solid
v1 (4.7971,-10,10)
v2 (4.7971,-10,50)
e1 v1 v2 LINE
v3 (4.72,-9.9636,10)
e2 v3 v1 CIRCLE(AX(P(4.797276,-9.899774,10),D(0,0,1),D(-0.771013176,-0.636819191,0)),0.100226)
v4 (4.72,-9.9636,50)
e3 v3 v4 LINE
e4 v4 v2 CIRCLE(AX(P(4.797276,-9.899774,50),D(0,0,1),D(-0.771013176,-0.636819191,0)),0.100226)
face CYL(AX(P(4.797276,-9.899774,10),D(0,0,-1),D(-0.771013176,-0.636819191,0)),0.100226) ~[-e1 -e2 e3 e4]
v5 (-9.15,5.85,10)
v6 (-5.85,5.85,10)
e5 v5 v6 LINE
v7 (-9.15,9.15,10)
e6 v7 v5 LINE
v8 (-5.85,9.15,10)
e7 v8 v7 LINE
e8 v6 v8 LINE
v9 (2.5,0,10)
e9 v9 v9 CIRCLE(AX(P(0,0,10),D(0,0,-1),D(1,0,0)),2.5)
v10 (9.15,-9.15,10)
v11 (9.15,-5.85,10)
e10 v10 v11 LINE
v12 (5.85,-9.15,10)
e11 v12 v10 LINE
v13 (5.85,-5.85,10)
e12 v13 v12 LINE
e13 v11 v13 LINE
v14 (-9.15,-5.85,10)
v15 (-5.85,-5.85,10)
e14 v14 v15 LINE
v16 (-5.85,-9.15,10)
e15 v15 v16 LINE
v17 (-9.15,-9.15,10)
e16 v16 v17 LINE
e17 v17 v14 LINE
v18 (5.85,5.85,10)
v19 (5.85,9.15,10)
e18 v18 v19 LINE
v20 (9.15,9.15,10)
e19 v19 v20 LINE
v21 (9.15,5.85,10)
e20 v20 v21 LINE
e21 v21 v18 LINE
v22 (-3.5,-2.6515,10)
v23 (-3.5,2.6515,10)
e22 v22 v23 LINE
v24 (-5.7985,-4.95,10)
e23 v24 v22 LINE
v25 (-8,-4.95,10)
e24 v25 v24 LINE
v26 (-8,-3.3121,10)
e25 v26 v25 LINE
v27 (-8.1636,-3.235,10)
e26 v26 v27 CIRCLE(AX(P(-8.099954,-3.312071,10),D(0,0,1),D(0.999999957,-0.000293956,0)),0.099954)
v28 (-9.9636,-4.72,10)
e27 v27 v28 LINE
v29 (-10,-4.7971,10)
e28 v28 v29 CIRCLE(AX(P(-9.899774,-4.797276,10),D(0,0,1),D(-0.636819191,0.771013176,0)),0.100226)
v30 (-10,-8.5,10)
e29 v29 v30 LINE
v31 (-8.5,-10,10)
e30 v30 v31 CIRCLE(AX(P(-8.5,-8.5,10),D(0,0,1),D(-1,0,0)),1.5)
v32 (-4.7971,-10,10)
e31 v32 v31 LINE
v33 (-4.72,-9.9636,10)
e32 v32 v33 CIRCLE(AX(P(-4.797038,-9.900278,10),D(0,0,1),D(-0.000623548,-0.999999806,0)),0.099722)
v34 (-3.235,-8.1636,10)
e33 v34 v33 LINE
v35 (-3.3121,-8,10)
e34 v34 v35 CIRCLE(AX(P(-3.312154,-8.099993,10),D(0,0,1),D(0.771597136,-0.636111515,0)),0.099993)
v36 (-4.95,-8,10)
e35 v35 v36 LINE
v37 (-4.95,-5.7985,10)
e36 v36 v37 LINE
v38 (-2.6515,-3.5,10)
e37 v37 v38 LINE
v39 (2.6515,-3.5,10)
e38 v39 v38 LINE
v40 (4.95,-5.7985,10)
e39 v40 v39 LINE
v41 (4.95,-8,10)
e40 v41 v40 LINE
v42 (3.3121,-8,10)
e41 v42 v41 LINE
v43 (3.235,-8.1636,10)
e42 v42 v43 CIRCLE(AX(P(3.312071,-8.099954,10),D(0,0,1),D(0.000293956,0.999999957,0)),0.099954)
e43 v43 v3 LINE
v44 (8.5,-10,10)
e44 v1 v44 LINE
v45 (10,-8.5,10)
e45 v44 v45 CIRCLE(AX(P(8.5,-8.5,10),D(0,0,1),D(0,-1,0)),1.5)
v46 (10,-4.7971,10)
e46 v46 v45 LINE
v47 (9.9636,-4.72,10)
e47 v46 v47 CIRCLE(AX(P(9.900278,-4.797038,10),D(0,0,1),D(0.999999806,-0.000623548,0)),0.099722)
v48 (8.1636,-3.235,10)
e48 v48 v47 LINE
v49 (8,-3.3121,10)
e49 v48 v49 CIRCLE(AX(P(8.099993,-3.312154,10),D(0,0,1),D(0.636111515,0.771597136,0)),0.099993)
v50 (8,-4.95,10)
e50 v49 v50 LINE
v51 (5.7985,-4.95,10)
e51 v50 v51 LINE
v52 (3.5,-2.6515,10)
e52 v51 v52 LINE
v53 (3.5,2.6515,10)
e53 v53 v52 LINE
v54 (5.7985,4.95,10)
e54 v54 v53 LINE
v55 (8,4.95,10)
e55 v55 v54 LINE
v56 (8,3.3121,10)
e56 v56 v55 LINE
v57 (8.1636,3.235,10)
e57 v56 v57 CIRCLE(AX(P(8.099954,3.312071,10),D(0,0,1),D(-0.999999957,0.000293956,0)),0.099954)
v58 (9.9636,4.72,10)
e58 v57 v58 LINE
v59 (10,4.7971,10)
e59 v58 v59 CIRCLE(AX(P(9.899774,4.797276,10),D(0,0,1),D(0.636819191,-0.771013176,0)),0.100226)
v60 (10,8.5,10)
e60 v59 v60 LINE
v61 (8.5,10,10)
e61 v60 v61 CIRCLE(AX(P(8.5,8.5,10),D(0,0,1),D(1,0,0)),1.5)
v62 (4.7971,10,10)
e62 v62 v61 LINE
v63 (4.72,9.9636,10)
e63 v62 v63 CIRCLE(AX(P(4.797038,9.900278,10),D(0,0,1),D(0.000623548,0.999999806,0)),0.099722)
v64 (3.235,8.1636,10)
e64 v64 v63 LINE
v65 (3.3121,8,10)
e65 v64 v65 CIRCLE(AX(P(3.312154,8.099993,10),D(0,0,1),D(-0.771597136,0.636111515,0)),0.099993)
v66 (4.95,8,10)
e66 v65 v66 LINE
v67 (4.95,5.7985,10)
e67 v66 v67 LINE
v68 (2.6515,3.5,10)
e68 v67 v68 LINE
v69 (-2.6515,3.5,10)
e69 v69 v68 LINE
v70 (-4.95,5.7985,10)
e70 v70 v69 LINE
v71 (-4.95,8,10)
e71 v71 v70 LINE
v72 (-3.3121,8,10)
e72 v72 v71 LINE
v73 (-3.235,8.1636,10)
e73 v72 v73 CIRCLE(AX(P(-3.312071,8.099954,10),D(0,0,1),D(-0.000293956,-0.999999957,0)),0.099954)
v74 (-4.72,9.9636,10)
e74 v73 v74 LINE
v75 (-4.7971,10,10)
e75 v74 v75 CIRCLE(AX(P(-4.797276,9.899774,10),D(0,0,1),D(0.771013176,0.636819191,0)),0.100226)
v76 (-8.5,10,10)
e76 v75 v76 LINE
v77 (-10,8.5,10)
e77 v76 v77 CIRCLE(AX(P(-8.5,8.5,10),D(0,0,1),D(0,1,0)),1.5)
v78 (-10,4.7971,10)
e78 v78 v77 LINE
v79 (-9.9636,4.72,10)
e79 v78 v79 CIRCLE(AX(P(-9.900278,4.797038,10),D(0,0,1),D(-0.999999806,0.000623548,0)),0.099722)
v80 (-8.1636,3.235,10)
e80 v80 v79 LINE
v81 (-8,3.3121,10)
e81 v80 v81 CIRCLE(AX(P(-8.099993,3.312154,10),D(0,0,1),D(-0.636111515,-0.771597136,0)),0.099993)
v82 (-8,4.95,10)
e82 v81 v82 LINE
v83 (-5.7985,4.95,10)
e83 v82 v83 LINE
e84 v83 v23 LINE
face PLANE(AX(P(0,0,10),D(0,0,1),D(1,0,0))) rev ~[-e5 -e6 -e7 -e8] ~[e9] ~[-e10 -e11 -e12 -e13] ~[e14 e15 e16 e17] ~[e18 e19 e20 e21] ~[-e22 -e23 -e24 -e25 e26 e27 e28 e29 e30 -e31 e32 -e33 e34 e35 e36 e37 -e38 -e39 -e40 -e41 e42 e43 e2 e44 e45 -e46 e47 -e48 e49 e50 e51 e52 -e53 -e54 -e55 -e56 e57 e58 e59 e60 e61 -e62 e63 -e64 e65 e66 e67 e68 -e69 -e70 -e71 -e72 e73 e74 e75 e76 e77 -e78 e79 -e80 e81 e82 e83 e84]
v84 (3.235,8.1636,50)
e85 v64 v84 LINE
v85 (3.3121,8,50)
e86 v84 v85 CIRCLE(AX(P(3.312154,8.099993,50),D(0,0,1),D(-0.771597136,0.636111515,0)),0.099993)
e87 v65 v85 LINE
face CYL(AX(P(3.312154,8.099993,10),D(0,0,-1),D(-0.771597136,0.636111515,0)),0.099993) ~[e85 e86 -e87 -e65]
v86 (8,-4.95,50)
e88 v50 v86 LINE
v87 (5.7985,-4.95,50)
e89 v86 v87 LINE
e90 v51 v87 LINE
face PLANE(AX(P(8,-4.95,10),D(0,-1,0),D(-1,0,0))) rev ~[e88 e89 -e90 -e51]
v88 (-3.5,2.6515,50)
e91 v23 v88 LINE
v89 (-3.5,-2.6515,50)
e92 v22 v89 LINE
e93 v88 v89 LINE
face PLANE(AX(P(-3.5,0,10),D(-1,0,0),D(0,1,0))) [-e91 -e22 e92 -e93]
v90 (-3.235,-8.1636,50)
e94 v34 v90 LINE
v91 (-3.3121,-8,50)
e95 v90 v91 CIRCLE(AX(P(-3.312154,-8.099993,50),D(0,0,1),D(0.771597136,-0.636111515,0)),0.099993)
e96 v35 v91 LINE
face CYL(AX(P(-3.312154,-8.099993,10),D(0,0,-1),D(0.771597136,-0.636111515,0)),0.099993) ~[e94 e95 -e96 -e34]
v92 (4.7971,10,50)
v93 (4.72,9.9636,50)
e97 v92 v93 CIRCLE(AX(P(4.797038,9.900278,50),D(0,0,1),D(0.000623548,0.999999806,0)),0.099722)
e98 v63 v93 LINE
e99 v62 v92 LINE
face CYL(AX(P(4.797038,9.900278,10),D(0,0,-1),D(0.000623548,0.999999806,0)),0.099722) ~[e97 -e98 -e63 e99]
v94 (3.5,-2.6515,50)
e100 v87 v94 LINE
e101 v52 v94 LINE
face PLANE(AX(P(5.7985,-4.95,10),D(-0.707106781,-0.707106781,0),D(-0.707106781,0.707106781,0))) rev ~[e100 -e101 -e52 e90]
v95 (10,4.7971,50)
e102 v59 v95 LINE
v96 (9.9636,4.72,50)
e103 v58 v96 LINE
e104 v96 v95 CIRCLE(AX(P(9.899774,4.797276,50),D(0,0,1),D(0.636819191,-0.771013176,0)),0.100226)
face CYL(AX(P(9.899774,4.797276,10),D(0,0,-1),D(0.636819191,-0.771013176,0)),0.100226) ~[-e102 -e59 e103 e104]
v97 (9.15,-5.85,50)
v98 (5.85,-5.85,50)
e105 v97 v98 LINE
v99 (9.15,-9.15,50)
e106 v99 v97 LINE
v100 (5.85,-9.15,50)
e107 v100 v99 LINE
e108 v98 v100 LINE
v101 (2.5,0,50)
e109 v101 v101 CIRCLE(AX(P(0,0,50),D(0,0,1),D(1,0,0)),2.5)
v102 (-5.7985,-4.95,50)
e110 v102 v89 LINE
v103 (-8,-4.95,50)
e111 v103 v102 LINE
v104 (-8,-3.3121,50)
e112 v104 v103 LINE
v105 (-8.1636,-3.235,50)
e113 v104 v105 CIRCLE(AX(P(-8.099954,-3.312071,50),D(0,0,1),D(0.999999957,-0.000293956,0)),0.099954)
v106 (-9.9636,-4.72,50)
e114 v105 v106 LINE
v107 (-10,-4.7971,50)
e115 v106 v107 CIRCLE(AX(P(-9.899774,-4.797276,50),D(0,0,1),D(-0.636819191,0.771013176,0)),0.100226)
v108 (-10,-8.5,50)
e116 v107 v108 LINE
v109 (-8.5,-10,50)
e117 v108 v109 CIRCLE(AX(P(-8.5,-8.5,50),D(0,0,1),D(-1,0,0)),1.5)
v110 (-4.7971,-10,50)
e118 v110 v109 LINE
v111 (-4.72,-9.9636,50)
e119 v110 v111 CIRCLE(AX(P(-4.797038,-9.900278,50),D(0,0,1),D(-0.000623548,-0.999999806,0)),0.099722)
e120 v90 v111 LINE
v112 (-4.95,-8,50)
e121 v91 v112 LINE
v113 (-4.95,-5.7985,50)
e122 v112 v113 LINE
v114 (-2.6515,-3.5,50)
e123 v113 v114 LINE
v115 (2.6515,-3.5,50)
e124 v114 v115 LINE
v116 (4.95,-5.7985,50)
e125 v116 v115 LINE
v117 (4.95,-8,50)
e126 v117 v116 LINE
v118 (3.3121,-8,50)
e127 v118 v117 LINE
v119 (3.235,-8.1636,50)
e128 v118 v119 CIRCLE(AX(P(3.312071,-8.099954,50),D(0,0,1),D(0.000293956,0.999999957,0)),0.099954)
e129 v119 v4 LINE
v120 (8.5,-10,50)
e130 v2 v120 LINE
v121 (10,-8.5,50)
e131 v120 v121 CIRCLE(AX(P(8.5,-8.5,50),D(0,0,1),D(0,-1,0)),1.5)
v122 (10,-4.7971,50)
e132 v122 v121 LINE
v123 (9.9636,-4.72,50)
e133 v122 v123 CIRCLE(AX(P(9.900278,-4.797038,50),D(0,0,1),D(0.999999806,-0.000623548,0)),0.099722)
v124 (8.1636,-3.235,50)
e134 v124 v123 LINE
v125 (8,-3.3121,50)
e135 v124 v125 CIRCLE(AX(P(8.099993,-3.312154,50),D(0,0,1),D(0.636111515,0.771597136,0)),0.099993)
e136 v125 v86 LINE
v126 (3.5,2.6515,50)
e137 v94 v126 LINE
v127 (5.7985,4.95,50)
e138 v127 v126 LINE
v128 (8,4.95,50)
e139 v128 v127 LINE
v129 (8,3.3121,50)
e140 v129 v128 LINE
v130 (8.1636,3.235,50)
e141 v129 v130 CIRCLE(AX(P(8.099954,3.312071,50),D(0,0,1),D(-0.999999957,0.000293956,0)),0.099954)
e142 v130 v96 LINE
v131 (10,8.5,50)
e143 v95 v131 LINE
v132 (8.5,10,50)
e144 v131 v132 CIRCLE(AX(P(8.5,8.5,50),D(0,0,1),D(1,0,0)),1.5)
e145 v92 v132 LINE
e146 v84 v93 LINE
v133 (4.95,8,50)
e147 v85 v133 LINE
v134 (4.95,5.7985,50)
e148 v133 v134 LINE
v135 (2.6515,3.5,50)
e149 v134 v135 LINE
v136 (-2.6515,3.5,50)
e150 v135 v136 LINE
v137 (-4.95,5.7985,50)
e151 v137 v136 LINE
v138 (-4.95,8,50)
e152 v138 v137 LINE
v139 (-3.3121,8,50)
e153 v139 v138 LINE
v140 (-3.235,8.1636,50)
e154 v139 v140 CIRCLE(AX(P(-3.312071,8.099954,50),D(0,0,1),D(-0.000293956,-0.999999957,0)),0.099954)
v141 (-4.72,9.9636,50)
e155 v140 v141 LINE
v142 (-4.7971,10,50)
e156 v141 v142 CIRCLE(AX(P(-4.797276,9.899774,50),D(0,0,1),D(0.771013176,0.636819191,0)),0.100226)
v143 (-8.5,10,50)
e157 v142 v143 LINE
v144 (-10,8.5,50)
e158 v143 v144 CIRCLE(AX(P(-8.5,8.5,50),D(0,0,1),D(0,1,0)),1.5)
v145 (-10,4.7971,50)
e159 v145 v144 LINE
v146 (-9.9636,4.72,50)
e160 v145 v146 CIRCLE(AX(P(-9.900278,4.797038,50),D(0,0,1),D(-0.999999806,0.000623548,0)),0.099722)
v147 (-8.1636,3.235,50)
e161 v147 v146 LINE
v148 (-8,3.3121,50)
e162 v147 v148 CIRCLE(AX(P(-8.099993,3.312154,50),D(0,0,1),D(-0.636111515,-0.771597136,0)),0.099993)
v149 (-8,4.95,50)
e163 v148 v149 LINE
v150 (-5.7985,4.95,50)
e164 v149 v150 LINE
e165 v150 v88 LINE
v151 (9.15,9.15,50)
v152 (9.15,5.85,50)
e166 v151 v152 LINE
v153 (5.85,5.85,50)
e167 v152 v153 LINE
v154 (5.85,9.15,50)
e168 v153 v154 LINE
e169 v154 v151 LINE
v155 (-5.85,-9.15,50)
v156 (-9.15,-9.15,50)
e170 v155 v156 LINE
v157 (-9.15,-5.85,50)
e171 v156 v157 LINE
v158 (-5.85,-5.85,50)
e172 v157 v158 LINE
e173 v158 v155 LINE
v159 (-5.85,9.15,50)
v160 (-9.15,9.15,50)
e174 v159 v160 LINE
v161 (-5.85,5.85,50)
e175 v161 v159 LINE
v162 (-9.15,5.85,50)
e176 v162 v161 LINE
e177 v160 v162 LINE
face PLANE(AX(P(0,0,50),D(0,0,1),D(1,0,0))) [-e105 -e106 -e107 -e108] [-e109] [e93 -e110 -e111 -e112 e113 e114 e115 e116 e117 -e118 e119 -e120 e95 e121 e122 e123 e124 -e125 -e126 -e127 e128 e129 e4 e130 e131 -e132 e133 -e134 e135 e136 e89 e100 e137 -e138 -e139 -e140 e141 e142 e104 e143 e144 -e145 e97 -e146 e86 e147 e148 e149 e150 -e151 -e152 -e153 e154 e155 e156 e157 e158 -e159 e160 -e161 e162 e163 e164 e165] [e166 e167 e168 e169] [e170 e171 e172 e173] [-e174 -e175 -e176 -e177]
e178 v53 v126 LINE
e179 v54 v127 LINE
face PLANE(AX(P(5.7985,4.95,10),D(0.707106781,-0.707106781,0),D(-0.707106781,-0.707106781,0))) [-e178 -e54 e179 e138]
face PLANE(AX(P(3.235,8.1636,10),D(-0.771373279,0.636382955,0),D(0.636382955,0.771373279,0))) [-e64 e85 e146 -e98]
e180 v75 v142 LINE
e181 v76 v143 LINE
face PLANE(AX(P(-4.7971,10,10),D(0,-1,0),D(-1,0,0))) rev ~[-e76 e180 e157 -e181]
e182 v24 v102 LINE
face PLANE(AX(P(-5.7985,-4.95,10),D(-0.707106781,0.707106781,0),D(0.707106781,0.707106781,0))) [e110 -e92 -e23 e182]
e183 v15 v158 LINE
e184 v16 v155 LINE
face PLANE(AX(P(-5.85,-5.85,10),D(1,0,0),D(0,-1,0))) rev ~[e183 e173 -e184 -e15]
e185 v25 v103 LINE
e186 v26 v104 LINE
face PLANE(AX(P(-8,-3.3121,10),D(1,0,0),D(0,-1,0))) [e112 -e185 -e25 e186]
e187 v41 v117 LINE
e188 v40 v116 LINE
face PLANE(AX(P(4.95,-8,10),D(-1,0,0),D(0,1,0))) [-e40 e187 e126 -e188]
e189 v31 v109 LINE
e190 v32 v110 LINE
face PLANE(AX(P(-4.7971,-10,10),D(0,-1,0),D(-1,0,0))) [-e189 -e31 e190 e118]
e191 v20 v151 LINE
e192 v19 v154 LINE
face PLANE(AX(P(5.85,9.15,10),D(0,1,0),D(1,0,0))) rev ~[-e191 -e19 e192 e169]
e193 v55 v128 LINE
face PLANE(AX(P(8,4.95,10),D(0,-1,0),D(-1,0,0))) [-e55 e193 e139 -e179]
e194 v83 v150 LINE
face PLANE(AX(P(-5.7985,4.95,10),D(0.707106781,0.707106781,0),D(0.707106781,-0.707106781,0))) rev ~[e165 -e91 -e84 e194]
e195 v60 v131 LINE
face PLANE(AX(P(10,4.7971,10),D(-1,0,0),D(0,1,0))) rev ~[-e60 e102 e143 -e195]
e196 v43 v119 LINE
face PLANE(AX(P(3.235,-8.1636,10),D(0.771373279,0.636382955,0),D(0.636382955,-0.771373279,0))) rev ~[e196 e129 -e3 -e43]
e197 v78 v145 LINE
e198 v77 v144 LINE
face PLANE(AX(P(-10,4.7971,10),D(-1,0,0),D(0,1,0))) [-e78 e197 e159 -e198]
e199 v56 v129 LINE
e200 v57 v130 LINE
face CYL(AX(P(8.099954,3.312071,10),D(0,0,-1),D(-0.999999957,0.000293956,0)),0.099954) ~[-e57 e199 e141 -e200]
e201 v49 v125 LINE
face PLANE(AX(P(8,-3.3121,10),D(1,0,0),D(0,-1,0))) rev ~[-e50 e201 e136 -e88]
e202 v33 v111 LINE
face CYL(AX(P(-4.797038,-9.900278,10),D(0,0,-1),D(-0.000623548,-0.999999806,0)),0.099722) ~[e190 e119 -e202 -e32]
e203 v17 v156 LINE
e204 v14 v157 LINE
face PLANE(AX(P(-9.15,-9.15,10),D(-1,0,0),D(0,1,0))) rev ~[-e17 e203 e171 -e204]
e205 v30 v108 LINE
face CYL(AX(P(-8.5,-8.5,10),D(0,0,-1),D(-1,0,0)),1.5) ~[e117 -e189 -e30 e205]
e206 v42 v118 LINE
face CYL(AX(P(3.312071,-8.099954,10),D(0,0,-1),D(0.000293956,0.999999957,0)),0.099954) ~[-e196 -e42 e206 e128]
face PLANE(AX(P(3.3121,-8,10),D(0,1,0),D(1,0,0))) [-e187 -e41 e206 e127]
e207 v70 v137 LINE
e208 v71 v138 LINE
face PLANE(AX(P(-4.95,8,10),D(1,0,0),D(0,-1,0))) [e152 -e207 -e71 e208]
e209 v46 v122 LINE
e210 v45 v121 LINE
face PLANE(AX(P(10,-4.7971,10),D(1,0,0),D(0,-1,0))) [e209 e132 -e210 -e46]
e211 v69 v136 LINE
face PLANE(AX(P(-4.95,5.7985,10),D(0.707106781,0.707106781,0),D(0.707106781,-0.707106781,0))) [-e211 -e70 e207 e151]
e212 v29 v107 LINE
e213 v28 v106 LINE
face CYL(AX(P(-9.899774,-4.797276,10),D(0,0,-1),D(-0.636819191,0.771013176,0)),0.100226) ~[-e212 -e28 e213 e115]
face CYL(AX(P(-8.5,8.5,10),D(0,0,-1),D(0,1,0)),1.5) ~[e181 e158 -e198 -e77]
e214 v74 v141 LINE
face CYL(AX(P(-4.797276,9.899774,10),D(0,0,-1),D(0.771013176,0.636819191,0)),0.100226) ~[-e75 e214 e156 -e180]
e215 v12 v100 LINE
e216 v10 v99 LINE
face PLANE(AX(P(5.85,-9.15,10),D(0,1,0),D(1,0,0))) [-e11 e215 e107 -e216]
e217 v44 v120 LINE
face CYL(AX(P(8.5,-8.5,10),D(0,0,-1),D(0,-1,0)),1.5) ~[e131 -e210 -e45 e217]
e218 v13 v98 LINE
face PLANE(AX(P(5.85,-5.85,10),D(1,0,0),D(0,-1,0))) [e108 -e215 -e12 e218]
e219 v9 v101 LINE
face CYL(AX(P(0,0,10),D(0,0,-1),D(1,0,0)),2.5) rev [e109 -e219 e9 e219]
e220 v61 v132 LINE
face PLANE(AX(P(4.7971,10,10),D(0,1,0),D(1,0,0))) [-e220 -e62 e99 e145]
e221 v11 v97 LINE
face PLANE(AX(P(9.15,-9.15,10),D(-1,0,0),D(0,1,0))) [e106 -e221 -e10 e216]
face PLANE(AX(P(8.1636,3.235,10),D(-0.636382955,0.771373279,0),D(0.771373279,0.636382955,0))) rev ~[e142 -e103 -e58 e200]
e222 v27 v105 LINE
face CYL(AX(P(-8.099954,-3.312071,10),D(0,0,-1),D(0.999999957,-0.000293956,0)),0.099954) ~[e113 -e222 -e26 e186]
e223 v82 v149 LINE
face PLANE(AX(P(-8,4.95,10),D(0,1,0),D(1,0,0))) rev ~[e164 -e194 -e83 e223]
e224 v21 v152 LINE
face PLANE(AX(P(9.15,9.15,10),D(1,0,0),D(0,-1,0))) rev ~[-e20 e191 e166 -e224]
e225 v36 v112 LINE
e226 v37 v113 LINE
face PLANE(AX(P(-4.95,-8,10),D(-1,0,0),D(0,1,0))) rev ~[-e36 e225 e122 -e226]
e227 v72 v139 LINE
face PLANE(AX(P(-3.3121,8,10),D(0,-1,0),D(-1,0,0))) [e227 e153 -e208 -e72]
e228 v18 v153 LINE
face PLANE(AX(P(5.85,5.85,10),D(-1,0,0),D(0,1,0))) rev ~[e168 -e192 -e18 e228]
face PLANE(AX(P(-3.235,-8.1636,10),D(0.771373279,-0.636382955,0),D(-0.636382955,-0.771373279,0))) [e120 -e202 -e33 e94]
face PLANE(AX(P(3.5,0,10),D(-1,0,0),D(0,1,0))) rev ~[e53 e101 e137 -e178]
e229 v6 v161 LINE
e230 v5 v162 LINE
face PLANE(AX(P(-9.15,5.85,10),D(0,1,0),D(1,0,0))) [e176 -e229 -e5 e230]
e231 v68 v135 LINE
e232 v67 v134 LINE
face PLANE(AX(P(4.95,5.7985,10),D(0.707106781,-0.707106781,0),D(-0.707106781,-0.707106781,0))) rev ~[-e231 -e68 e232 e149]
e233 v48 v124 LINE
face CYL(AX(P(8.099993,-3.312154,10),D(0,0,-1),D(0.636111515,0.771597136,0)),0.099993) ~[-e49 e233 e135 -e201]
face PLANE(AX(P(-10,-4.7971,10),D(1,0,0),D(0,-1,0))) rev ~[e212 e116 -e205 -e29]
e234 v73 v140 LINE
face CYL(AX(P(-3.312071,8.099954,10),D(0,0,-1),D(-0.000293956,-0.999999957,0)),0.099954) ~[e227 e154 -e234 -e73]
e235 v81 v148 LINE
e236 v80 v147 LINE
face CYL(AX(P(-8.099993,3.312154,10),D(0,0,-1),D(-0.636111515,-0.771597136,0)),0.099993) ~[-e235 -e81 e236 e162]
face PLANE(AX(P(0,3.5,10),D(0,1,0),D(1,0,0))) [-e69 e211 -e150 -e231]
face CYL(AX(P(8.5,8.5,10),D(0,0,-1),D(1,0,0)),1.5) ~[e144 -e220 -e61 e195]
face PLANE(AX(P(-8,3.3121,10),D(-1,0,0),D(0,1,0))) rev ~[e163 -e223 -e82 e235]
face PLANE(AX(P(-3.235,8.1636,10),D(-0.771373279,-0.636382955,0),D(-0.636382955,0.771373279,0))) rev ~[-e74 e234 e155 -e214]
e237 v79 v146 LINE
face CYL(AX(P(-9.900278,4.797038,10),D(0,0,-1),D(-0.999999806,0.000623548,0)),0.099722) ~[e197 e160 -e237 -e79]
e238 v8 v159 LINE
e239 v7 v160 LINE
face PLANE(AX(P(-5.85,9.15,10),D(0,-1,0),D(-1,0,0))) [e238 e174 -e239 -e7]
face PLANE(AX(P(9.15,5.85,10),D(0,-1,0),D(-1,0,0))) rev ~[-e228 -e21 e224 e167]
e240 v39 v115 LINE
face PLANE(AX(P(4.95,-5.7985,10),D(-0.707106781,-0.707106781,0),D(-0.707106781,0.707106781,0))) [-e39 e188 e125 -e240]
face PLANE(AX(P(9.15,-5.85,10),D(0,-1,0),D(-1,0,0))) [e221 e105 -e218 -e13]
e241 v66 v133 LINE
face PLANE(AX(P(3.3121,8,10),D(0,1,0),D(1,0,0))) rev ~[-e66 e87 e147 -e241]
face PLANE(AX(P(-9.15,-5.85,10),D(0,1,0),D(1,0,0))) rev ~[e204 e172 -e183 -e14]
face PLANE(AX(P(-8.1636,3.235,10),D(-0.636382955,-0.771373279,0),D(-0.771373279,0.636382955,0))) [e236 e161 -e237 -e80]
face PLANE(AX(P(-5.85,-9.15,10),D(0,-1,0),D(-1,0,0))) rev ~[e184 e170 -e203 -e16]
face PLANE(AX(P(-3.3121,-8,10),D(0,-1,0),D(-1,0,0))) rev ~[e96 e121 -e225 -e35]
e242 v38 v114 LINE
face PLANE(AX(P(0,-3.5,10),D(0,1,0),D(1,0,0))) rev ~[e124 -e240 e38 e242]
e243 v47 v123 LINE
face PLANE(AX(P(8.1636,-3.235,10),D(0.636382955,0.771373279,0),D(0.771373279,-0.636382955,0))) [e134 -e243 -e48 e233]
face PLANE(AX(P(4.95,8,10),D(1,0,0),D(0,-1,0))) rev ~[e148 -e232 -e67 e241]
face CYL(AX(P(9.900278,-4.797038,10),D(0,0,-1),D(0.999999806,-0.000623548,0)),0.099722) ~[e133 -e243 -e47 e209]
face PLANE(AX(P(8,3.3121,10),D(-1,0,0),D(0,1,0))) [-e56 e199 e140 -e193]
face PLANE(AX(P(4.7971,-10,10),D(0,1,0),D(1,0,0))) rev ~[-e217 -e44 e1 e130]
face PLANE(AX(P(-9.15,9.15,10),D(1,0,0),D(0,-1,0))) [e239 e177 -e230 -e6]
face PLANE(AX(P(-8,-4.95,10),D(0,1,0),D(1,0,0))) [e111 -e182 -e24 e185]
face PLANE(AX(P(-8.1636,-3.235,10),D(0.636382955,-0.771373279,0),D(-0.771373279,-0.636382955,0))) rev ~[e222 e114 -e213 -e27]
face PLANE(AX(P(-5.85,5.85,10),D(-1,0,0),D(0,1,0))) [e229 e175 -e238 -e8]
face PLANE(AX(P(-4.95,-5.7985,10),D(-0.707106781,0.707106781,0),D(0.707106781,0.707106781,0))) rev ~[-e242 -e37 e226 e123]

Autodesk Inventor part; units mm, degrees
ref_plane "Начальная плоскость" through (0, 0, 10) normal (0, 0, 1) x (1, 0, 0)
ref_plane "Конечная плоскость" through (0, 0, 50) normal (0, 0, 1) x (1, 0, 0)
sketch "Эскиз" plane through (0, 0, 0) normal (0, 0, 1) x (1, 0, 0)
  line L0 (-14.4349, 0) -> (14.4349, 0) projected
  line L1 (0, -14) -> (0, 14) projected
  line L2 (0, 0) -> (7.5, 7.5) construction
  circle A0 centre (7.5, 7.5) radius 1.65 construction
  line L3 (5.85, 9.15) -> (9.15, 9.15)
  line L4 (9.15, 9.15) -> (9.15, 5.85)
  line L5 (9.15, 5.85) -> (5.85, 5.85)
  line L6 (5.85, 5.85) -> (5.85, 9.15)
  line L7 (3.235, 8.1636) -> (4.72, 9.9636)
  line L8 (4.7971, 10) -> (8.5, 10)
  line L9 (3.3121, 8) -> (4.95, 8)
  line L10 (4.95, 8) -> (4.95, 5.7985)
  line L11 (4.95, 5.7985) -> (2.6515, 3.5)
  line L12 (0, 3.5) -> (2.6515, 3.5)
  circle A1 centre (0, 0) radius 2.5
  line L13 (8.1636, 3.235) -> (9.9636, 4.72)
  line L14 (10, 4.7971) -> (10, 8.5)
  line L15 (8, 3.3121) -> (8, 4.95)
  line L16 (8, 4.95) -> (5.7985, 4.95)
  line L17 (5.7985, 4.95) -> (3.5, 2.6515)
  line L18 (3.5, 0) -> (3.5, 2.6515)
  arc A2 (10, 8.5) -> (8.5, 10) centre (8.5, 8.5) ccw
  line L19 (0, 0) -> (-7.5, 7.5) construction
  circle A3 centre (-7.5, 7.5) radius 1.65 construction
  line L20 (-5.85, 9.15) -> (-9.15, 9.15)
  line L21 (-9.15, 9.15) -> (-9.15, 5.85)
  line L22 (-9.15, 5.85) -> (-5.85, 5.85)
  line L23 (-5.85, 5.85) -> (-5.85, 9.15)
  line L24 (-3.235, 8.1636) -> (-4.72, 9.9636)
  line L25 (-4.7971, 10) -> (-8.5, 10)
  line L26 (-3.3121, 8) -> (-4.95, 8)
  line L27 (-4.95, 8) -> (-4.95, 5.7985)
  line L28 (-4.95, 5.7985) -> (-2.6515, 3.5)
  line L29 (0, 3.5) -> (-2.6515, 3.5)
  line L30 (-3.5, 0) -> (-3.5, 2.6515)
  line L31 (-5.7985, 4.95) -> (-3.5, 2.6515)
  line L32 (-8, 4.95) -> (-5.7985, 4.95)
  line L33 (-8, 3.3121) -> (-8, 4.95)
  line L34 (-8.1636, 3.235) -> (-9.9636, 4.72)
  line L35 (-10, 4.7971) -> (-10, 8.5)
  arc A4 (-8.5, 10) -> (-10, 8.5) centre (-8.5, 8.5) ccw
  line L36 (0, 14) -> (0, -14)
  line L37 (0, 0) -> (7.5, -7.5) construction
  circle A5 centre (7.5, -7.5) radius 1.65 construction
  line L38 (5.85, -9.15) -> (9.15, -9.15)
  line L39 (9.15, -9.15) -> (9.15, -5.85)
  line L40 (9.15, -5.85) -> (5.85, -5.85)
  line L41 (5.85, -5.85) -> (5.85, -9.15)
  line L42 (3.235, -8.1636) -> (4.72, -9.9636)
  line L43 (4.7971, -10) -> (8.5, -10)
  line L44 (3.3121, -8) -> (4.95, -8)
  line L45 (4.95, -8) -> (4.95, -5.7985)
  line L46 (4.95, -5.7985) -> (2.6515, -3.5)
  line L47 (0, -3.5) -> (2.6515, -3.5)
  line L48 (3.5, 0) -> (3.5, -2.6515)
  line L49 (5.7985, -4.95) -> (3.5, -2.6515)
  line L50 (8, -4.95) -> (5.7985, -4.95)
  line L51 (8, -3.3121) -> (8, -4.95)
  line L52 (8.1636, -3.235) -> (9.9636, -4.72)
  line L53 (10, -4.7971) -> (10, -8.5)
  arc A6 (8.5, -10) -> (10, -8.5) centre (8.5, -8.5) ccw
  line L54 (0, 0) -> (-7.5, -7.5) construction
  line L55 (-4.95, -8) -> (-4.95, -5.7985)
  line L56 (-3.3121, -8) -> (-4.95, -8)
  line L57 (-5.7985, -4.95) -> (-3.5, -2.6515)
  line L58 (-4.95, -5.7985) -> (-2.6515, -3.5)
  line L59 (-3.5, 0) -> (-3.5, -2.6515)
  line L60 (0, -3.5) -> (-2.6515, -3.5)
  circle A7 centre (-7.5, -7.5) radius 1.65 construction
  line L61 (-5.85, -5.85) -> (-5.85, -9.15)
  line L62 (-5.85, -9.15) -> (-9.15, -9.15)
  line L63 (-9.15, -9.15) -> (-9.15, -5.85)
  line L64 (-9.15, -5.85) -> (-5.85, -5.85)
  line L65 (-3.235, -8.1636) -> (-4.72, -9.9636)
  line L66 (-8, -4.95) -> (-5.7985, -4.95)
  line L67 (-8, -3.3121) -> (-8, -4.95)
  line L68 (-8.1636, -3.235) -> (-9.9636, -4.72)
  line L69 (-4.7971, -10) -> (-8.5, -10)
  line L70 (-10, -4.7971) -> (-10, -8.5)
  arc A8 (-10, -8.5) -> (-8.5, -10) centre (-8.5, -8.5) ccw
  arc A9 (3.235, 8.1636) -> (3.3121, 8) centre (3.3121, 8.1) ccw
  arc A10 (4.7971, 10) -> (4.72, 9.9636) centre (4.7971, 9.9) ccw
  arc A11 (8, 3.3121) -> (8.1636, 3.235) centre (8.1, 3.3121) ccw
  arc A12 (9.9636, 4.72) -> (10, 4.7971) centre (9.9, 4.7971) ccw
  arc A13 (-3.3121, 8) -> (-3.235, 8.1636) centre (-3.3121, 8.1) ccw
  arc A14 (-4.72, 9.9636) -> (-4.7971, 10) centre (-4.7971, 9.9) ccw
  arc A15 (-8.1636, 3.235) -> (-8, 3.3121) centre (-8.1, 3.3121) ccw
  arc A16 (-10, 4.7971) -> (-9.9636, 4.72) centre (-9.9, 4.7971) ccw
  arc A17 (-8, -3.3121) -> (-8.1636, -3.235) centre (-8.1, -3.3121) ccw
  arc A18 (-9.9636, -4.72) -> (-10, -4.7971) centre (-9.9, -4.7971) ccw
  arc A19 (-3.235, -8.1636) -> (-3.3121, -8) centre (-3.3121, -8.1) ccw
  arc A20 (-4.7971, -10) -> (-4.72, -9.9636) centre (-4.7971, -9.9) ccw
  arc A21 (4.72, -9.9636) -> (4.7971, -10) centre (4.7971, -9.9) ccw
  arc A22 (3.3121, -8) -> (3.235, -8.1636) centre (3.3121, -8.1) ccw
  arc A23 (8.1636, -3.235) -> (8, -3.3121) centre (8.1, -3.3121) ccw
  arc A24 (10, -4.7971) -> (9.9636, -4.72) centre (9.9, -4.7971) ccw
  point P0 (3.1, 8)
  point P1 (4.75, 10)
  point P2 (7.5, 9.15)
  point P3 (8, 3.1)
  point P4 (10, 4.75)
  point P5 (7.5, 5.85)
  point P6 (9.15, 7.5)
  point P7 (-3.1, 8)
  point P8 (-4.75, 10)
  point P9 (-7.5, 9.15)
  point P10 (-8, 3.1)
  point P11 (-10, 4.75)
  point P12 (-7.5, 5.85)
  point P13 (-9.15, 7.5)
  point P14 (3.1, -8)
  point P15 (4.75, -10)
  point P16 (7.5, -9.15)
  point P17 (8, -3.1)
  point P18 (10, -4.75)
  point P19 (7.5, -5.85)
  point P20 (9.15, -7.5)
  point P21 (-3.1, -8)
  point P22 (-7.5, -5.85)
  point P23 (-7.5, -9.15)
  point P24 (-9.15, -7.5)
  point P25 (-4.75, -10)
  point P26 (-8, -3.1)
  point P27 (-10, -4.75)
  dimension "d0" = 45
  dimension "d1" = 3.3
  dimension "d2" = 1.5
  dimension "d3" = 1.2
  dimension "d4" = 5
  dimension "d5" = 6.5
  dimension "d6" = 15
  dimension "d7" = 20
  dimension "d8" = 9.9
  dimension "d9" = 9.5
  dimension "d10" = 6.2
  dimension "d11" = 2
  dimension "d18" = 0.1
  dimension "d19" = 0.1
extrude "Тело" add sketch "Эскиз" along normal up to surface (40 mm away) from surface at 10 contours A1 L1 L12 L11 L10 L9 A9 L7 A10 L8 A2 L14 A12 L13 A11 L15 L16 L17 L18 L0 | L0 L48 L49 L50 L51 A23 L52 A24 L53 A6 L43 A21 L42 A22 L44 L45 L46 L47 L1 A1 | A1 L0 L30 L31 L32 L33 A15 L34 A16 L35 A4 L25 A14 L24 A13 L26 L27 L28 L29 L1 | L1 L60 L58 L55 L56 A19 L65 A20 L69 A8 L70 A18 L68 A17 L67 L66 L57 L59 L0 A1
sketch "Эскиз2" plane through (0, 0, 0) normal (0, 0, 1) x (1, 0, 0)
  line L0 (0, 0) -> (10, 0)
ref_plane "РабПлоскость3" through (0, 0, 0) normal (0, -1, 0) x (1, 0, 0)
sketch "Эскиз3" plane through (0, 0, 0) normal (0, -1, 0) x (1, 0, 0)
  line L0 (-2, 10) -> (12, 10)
  line L1 (-2, 50) -> (12, 50)
  dimension "d25" = 40
ref_plane "РабПлоскость4" through (300, 0, 10) normal (0, 0, -1) x (-1, 0, 0)
split "Разделение1" plane through (300, 0, 10) removes the side toward (0, 0, -1)
ref_plane "РабПлоскость5" through (0, -590, -10) normal (0, 0, -1) x (-1, 0, 0)
split "Разделение2" plane through (0, -590, -10) removes the side toward (0, 0, -1)
ref_plane "РабПлоскость6" through (-10, 0, 50) normal (0, 0, 1) x (1, 0, 0)
split "Разделение3" plane through (-10, 0, 50) removes the side toward (0, 0, 1)
ref_plane "РабПлоскость7" through (0, -10, 50) normal (0, 0, 1) x (1, 0, 0)
split "Разделение4" plane through (0, -10, 50) removes the side toward (0, 0, 1)
properties part number "короткая палка" material "Алюминий 6061"
